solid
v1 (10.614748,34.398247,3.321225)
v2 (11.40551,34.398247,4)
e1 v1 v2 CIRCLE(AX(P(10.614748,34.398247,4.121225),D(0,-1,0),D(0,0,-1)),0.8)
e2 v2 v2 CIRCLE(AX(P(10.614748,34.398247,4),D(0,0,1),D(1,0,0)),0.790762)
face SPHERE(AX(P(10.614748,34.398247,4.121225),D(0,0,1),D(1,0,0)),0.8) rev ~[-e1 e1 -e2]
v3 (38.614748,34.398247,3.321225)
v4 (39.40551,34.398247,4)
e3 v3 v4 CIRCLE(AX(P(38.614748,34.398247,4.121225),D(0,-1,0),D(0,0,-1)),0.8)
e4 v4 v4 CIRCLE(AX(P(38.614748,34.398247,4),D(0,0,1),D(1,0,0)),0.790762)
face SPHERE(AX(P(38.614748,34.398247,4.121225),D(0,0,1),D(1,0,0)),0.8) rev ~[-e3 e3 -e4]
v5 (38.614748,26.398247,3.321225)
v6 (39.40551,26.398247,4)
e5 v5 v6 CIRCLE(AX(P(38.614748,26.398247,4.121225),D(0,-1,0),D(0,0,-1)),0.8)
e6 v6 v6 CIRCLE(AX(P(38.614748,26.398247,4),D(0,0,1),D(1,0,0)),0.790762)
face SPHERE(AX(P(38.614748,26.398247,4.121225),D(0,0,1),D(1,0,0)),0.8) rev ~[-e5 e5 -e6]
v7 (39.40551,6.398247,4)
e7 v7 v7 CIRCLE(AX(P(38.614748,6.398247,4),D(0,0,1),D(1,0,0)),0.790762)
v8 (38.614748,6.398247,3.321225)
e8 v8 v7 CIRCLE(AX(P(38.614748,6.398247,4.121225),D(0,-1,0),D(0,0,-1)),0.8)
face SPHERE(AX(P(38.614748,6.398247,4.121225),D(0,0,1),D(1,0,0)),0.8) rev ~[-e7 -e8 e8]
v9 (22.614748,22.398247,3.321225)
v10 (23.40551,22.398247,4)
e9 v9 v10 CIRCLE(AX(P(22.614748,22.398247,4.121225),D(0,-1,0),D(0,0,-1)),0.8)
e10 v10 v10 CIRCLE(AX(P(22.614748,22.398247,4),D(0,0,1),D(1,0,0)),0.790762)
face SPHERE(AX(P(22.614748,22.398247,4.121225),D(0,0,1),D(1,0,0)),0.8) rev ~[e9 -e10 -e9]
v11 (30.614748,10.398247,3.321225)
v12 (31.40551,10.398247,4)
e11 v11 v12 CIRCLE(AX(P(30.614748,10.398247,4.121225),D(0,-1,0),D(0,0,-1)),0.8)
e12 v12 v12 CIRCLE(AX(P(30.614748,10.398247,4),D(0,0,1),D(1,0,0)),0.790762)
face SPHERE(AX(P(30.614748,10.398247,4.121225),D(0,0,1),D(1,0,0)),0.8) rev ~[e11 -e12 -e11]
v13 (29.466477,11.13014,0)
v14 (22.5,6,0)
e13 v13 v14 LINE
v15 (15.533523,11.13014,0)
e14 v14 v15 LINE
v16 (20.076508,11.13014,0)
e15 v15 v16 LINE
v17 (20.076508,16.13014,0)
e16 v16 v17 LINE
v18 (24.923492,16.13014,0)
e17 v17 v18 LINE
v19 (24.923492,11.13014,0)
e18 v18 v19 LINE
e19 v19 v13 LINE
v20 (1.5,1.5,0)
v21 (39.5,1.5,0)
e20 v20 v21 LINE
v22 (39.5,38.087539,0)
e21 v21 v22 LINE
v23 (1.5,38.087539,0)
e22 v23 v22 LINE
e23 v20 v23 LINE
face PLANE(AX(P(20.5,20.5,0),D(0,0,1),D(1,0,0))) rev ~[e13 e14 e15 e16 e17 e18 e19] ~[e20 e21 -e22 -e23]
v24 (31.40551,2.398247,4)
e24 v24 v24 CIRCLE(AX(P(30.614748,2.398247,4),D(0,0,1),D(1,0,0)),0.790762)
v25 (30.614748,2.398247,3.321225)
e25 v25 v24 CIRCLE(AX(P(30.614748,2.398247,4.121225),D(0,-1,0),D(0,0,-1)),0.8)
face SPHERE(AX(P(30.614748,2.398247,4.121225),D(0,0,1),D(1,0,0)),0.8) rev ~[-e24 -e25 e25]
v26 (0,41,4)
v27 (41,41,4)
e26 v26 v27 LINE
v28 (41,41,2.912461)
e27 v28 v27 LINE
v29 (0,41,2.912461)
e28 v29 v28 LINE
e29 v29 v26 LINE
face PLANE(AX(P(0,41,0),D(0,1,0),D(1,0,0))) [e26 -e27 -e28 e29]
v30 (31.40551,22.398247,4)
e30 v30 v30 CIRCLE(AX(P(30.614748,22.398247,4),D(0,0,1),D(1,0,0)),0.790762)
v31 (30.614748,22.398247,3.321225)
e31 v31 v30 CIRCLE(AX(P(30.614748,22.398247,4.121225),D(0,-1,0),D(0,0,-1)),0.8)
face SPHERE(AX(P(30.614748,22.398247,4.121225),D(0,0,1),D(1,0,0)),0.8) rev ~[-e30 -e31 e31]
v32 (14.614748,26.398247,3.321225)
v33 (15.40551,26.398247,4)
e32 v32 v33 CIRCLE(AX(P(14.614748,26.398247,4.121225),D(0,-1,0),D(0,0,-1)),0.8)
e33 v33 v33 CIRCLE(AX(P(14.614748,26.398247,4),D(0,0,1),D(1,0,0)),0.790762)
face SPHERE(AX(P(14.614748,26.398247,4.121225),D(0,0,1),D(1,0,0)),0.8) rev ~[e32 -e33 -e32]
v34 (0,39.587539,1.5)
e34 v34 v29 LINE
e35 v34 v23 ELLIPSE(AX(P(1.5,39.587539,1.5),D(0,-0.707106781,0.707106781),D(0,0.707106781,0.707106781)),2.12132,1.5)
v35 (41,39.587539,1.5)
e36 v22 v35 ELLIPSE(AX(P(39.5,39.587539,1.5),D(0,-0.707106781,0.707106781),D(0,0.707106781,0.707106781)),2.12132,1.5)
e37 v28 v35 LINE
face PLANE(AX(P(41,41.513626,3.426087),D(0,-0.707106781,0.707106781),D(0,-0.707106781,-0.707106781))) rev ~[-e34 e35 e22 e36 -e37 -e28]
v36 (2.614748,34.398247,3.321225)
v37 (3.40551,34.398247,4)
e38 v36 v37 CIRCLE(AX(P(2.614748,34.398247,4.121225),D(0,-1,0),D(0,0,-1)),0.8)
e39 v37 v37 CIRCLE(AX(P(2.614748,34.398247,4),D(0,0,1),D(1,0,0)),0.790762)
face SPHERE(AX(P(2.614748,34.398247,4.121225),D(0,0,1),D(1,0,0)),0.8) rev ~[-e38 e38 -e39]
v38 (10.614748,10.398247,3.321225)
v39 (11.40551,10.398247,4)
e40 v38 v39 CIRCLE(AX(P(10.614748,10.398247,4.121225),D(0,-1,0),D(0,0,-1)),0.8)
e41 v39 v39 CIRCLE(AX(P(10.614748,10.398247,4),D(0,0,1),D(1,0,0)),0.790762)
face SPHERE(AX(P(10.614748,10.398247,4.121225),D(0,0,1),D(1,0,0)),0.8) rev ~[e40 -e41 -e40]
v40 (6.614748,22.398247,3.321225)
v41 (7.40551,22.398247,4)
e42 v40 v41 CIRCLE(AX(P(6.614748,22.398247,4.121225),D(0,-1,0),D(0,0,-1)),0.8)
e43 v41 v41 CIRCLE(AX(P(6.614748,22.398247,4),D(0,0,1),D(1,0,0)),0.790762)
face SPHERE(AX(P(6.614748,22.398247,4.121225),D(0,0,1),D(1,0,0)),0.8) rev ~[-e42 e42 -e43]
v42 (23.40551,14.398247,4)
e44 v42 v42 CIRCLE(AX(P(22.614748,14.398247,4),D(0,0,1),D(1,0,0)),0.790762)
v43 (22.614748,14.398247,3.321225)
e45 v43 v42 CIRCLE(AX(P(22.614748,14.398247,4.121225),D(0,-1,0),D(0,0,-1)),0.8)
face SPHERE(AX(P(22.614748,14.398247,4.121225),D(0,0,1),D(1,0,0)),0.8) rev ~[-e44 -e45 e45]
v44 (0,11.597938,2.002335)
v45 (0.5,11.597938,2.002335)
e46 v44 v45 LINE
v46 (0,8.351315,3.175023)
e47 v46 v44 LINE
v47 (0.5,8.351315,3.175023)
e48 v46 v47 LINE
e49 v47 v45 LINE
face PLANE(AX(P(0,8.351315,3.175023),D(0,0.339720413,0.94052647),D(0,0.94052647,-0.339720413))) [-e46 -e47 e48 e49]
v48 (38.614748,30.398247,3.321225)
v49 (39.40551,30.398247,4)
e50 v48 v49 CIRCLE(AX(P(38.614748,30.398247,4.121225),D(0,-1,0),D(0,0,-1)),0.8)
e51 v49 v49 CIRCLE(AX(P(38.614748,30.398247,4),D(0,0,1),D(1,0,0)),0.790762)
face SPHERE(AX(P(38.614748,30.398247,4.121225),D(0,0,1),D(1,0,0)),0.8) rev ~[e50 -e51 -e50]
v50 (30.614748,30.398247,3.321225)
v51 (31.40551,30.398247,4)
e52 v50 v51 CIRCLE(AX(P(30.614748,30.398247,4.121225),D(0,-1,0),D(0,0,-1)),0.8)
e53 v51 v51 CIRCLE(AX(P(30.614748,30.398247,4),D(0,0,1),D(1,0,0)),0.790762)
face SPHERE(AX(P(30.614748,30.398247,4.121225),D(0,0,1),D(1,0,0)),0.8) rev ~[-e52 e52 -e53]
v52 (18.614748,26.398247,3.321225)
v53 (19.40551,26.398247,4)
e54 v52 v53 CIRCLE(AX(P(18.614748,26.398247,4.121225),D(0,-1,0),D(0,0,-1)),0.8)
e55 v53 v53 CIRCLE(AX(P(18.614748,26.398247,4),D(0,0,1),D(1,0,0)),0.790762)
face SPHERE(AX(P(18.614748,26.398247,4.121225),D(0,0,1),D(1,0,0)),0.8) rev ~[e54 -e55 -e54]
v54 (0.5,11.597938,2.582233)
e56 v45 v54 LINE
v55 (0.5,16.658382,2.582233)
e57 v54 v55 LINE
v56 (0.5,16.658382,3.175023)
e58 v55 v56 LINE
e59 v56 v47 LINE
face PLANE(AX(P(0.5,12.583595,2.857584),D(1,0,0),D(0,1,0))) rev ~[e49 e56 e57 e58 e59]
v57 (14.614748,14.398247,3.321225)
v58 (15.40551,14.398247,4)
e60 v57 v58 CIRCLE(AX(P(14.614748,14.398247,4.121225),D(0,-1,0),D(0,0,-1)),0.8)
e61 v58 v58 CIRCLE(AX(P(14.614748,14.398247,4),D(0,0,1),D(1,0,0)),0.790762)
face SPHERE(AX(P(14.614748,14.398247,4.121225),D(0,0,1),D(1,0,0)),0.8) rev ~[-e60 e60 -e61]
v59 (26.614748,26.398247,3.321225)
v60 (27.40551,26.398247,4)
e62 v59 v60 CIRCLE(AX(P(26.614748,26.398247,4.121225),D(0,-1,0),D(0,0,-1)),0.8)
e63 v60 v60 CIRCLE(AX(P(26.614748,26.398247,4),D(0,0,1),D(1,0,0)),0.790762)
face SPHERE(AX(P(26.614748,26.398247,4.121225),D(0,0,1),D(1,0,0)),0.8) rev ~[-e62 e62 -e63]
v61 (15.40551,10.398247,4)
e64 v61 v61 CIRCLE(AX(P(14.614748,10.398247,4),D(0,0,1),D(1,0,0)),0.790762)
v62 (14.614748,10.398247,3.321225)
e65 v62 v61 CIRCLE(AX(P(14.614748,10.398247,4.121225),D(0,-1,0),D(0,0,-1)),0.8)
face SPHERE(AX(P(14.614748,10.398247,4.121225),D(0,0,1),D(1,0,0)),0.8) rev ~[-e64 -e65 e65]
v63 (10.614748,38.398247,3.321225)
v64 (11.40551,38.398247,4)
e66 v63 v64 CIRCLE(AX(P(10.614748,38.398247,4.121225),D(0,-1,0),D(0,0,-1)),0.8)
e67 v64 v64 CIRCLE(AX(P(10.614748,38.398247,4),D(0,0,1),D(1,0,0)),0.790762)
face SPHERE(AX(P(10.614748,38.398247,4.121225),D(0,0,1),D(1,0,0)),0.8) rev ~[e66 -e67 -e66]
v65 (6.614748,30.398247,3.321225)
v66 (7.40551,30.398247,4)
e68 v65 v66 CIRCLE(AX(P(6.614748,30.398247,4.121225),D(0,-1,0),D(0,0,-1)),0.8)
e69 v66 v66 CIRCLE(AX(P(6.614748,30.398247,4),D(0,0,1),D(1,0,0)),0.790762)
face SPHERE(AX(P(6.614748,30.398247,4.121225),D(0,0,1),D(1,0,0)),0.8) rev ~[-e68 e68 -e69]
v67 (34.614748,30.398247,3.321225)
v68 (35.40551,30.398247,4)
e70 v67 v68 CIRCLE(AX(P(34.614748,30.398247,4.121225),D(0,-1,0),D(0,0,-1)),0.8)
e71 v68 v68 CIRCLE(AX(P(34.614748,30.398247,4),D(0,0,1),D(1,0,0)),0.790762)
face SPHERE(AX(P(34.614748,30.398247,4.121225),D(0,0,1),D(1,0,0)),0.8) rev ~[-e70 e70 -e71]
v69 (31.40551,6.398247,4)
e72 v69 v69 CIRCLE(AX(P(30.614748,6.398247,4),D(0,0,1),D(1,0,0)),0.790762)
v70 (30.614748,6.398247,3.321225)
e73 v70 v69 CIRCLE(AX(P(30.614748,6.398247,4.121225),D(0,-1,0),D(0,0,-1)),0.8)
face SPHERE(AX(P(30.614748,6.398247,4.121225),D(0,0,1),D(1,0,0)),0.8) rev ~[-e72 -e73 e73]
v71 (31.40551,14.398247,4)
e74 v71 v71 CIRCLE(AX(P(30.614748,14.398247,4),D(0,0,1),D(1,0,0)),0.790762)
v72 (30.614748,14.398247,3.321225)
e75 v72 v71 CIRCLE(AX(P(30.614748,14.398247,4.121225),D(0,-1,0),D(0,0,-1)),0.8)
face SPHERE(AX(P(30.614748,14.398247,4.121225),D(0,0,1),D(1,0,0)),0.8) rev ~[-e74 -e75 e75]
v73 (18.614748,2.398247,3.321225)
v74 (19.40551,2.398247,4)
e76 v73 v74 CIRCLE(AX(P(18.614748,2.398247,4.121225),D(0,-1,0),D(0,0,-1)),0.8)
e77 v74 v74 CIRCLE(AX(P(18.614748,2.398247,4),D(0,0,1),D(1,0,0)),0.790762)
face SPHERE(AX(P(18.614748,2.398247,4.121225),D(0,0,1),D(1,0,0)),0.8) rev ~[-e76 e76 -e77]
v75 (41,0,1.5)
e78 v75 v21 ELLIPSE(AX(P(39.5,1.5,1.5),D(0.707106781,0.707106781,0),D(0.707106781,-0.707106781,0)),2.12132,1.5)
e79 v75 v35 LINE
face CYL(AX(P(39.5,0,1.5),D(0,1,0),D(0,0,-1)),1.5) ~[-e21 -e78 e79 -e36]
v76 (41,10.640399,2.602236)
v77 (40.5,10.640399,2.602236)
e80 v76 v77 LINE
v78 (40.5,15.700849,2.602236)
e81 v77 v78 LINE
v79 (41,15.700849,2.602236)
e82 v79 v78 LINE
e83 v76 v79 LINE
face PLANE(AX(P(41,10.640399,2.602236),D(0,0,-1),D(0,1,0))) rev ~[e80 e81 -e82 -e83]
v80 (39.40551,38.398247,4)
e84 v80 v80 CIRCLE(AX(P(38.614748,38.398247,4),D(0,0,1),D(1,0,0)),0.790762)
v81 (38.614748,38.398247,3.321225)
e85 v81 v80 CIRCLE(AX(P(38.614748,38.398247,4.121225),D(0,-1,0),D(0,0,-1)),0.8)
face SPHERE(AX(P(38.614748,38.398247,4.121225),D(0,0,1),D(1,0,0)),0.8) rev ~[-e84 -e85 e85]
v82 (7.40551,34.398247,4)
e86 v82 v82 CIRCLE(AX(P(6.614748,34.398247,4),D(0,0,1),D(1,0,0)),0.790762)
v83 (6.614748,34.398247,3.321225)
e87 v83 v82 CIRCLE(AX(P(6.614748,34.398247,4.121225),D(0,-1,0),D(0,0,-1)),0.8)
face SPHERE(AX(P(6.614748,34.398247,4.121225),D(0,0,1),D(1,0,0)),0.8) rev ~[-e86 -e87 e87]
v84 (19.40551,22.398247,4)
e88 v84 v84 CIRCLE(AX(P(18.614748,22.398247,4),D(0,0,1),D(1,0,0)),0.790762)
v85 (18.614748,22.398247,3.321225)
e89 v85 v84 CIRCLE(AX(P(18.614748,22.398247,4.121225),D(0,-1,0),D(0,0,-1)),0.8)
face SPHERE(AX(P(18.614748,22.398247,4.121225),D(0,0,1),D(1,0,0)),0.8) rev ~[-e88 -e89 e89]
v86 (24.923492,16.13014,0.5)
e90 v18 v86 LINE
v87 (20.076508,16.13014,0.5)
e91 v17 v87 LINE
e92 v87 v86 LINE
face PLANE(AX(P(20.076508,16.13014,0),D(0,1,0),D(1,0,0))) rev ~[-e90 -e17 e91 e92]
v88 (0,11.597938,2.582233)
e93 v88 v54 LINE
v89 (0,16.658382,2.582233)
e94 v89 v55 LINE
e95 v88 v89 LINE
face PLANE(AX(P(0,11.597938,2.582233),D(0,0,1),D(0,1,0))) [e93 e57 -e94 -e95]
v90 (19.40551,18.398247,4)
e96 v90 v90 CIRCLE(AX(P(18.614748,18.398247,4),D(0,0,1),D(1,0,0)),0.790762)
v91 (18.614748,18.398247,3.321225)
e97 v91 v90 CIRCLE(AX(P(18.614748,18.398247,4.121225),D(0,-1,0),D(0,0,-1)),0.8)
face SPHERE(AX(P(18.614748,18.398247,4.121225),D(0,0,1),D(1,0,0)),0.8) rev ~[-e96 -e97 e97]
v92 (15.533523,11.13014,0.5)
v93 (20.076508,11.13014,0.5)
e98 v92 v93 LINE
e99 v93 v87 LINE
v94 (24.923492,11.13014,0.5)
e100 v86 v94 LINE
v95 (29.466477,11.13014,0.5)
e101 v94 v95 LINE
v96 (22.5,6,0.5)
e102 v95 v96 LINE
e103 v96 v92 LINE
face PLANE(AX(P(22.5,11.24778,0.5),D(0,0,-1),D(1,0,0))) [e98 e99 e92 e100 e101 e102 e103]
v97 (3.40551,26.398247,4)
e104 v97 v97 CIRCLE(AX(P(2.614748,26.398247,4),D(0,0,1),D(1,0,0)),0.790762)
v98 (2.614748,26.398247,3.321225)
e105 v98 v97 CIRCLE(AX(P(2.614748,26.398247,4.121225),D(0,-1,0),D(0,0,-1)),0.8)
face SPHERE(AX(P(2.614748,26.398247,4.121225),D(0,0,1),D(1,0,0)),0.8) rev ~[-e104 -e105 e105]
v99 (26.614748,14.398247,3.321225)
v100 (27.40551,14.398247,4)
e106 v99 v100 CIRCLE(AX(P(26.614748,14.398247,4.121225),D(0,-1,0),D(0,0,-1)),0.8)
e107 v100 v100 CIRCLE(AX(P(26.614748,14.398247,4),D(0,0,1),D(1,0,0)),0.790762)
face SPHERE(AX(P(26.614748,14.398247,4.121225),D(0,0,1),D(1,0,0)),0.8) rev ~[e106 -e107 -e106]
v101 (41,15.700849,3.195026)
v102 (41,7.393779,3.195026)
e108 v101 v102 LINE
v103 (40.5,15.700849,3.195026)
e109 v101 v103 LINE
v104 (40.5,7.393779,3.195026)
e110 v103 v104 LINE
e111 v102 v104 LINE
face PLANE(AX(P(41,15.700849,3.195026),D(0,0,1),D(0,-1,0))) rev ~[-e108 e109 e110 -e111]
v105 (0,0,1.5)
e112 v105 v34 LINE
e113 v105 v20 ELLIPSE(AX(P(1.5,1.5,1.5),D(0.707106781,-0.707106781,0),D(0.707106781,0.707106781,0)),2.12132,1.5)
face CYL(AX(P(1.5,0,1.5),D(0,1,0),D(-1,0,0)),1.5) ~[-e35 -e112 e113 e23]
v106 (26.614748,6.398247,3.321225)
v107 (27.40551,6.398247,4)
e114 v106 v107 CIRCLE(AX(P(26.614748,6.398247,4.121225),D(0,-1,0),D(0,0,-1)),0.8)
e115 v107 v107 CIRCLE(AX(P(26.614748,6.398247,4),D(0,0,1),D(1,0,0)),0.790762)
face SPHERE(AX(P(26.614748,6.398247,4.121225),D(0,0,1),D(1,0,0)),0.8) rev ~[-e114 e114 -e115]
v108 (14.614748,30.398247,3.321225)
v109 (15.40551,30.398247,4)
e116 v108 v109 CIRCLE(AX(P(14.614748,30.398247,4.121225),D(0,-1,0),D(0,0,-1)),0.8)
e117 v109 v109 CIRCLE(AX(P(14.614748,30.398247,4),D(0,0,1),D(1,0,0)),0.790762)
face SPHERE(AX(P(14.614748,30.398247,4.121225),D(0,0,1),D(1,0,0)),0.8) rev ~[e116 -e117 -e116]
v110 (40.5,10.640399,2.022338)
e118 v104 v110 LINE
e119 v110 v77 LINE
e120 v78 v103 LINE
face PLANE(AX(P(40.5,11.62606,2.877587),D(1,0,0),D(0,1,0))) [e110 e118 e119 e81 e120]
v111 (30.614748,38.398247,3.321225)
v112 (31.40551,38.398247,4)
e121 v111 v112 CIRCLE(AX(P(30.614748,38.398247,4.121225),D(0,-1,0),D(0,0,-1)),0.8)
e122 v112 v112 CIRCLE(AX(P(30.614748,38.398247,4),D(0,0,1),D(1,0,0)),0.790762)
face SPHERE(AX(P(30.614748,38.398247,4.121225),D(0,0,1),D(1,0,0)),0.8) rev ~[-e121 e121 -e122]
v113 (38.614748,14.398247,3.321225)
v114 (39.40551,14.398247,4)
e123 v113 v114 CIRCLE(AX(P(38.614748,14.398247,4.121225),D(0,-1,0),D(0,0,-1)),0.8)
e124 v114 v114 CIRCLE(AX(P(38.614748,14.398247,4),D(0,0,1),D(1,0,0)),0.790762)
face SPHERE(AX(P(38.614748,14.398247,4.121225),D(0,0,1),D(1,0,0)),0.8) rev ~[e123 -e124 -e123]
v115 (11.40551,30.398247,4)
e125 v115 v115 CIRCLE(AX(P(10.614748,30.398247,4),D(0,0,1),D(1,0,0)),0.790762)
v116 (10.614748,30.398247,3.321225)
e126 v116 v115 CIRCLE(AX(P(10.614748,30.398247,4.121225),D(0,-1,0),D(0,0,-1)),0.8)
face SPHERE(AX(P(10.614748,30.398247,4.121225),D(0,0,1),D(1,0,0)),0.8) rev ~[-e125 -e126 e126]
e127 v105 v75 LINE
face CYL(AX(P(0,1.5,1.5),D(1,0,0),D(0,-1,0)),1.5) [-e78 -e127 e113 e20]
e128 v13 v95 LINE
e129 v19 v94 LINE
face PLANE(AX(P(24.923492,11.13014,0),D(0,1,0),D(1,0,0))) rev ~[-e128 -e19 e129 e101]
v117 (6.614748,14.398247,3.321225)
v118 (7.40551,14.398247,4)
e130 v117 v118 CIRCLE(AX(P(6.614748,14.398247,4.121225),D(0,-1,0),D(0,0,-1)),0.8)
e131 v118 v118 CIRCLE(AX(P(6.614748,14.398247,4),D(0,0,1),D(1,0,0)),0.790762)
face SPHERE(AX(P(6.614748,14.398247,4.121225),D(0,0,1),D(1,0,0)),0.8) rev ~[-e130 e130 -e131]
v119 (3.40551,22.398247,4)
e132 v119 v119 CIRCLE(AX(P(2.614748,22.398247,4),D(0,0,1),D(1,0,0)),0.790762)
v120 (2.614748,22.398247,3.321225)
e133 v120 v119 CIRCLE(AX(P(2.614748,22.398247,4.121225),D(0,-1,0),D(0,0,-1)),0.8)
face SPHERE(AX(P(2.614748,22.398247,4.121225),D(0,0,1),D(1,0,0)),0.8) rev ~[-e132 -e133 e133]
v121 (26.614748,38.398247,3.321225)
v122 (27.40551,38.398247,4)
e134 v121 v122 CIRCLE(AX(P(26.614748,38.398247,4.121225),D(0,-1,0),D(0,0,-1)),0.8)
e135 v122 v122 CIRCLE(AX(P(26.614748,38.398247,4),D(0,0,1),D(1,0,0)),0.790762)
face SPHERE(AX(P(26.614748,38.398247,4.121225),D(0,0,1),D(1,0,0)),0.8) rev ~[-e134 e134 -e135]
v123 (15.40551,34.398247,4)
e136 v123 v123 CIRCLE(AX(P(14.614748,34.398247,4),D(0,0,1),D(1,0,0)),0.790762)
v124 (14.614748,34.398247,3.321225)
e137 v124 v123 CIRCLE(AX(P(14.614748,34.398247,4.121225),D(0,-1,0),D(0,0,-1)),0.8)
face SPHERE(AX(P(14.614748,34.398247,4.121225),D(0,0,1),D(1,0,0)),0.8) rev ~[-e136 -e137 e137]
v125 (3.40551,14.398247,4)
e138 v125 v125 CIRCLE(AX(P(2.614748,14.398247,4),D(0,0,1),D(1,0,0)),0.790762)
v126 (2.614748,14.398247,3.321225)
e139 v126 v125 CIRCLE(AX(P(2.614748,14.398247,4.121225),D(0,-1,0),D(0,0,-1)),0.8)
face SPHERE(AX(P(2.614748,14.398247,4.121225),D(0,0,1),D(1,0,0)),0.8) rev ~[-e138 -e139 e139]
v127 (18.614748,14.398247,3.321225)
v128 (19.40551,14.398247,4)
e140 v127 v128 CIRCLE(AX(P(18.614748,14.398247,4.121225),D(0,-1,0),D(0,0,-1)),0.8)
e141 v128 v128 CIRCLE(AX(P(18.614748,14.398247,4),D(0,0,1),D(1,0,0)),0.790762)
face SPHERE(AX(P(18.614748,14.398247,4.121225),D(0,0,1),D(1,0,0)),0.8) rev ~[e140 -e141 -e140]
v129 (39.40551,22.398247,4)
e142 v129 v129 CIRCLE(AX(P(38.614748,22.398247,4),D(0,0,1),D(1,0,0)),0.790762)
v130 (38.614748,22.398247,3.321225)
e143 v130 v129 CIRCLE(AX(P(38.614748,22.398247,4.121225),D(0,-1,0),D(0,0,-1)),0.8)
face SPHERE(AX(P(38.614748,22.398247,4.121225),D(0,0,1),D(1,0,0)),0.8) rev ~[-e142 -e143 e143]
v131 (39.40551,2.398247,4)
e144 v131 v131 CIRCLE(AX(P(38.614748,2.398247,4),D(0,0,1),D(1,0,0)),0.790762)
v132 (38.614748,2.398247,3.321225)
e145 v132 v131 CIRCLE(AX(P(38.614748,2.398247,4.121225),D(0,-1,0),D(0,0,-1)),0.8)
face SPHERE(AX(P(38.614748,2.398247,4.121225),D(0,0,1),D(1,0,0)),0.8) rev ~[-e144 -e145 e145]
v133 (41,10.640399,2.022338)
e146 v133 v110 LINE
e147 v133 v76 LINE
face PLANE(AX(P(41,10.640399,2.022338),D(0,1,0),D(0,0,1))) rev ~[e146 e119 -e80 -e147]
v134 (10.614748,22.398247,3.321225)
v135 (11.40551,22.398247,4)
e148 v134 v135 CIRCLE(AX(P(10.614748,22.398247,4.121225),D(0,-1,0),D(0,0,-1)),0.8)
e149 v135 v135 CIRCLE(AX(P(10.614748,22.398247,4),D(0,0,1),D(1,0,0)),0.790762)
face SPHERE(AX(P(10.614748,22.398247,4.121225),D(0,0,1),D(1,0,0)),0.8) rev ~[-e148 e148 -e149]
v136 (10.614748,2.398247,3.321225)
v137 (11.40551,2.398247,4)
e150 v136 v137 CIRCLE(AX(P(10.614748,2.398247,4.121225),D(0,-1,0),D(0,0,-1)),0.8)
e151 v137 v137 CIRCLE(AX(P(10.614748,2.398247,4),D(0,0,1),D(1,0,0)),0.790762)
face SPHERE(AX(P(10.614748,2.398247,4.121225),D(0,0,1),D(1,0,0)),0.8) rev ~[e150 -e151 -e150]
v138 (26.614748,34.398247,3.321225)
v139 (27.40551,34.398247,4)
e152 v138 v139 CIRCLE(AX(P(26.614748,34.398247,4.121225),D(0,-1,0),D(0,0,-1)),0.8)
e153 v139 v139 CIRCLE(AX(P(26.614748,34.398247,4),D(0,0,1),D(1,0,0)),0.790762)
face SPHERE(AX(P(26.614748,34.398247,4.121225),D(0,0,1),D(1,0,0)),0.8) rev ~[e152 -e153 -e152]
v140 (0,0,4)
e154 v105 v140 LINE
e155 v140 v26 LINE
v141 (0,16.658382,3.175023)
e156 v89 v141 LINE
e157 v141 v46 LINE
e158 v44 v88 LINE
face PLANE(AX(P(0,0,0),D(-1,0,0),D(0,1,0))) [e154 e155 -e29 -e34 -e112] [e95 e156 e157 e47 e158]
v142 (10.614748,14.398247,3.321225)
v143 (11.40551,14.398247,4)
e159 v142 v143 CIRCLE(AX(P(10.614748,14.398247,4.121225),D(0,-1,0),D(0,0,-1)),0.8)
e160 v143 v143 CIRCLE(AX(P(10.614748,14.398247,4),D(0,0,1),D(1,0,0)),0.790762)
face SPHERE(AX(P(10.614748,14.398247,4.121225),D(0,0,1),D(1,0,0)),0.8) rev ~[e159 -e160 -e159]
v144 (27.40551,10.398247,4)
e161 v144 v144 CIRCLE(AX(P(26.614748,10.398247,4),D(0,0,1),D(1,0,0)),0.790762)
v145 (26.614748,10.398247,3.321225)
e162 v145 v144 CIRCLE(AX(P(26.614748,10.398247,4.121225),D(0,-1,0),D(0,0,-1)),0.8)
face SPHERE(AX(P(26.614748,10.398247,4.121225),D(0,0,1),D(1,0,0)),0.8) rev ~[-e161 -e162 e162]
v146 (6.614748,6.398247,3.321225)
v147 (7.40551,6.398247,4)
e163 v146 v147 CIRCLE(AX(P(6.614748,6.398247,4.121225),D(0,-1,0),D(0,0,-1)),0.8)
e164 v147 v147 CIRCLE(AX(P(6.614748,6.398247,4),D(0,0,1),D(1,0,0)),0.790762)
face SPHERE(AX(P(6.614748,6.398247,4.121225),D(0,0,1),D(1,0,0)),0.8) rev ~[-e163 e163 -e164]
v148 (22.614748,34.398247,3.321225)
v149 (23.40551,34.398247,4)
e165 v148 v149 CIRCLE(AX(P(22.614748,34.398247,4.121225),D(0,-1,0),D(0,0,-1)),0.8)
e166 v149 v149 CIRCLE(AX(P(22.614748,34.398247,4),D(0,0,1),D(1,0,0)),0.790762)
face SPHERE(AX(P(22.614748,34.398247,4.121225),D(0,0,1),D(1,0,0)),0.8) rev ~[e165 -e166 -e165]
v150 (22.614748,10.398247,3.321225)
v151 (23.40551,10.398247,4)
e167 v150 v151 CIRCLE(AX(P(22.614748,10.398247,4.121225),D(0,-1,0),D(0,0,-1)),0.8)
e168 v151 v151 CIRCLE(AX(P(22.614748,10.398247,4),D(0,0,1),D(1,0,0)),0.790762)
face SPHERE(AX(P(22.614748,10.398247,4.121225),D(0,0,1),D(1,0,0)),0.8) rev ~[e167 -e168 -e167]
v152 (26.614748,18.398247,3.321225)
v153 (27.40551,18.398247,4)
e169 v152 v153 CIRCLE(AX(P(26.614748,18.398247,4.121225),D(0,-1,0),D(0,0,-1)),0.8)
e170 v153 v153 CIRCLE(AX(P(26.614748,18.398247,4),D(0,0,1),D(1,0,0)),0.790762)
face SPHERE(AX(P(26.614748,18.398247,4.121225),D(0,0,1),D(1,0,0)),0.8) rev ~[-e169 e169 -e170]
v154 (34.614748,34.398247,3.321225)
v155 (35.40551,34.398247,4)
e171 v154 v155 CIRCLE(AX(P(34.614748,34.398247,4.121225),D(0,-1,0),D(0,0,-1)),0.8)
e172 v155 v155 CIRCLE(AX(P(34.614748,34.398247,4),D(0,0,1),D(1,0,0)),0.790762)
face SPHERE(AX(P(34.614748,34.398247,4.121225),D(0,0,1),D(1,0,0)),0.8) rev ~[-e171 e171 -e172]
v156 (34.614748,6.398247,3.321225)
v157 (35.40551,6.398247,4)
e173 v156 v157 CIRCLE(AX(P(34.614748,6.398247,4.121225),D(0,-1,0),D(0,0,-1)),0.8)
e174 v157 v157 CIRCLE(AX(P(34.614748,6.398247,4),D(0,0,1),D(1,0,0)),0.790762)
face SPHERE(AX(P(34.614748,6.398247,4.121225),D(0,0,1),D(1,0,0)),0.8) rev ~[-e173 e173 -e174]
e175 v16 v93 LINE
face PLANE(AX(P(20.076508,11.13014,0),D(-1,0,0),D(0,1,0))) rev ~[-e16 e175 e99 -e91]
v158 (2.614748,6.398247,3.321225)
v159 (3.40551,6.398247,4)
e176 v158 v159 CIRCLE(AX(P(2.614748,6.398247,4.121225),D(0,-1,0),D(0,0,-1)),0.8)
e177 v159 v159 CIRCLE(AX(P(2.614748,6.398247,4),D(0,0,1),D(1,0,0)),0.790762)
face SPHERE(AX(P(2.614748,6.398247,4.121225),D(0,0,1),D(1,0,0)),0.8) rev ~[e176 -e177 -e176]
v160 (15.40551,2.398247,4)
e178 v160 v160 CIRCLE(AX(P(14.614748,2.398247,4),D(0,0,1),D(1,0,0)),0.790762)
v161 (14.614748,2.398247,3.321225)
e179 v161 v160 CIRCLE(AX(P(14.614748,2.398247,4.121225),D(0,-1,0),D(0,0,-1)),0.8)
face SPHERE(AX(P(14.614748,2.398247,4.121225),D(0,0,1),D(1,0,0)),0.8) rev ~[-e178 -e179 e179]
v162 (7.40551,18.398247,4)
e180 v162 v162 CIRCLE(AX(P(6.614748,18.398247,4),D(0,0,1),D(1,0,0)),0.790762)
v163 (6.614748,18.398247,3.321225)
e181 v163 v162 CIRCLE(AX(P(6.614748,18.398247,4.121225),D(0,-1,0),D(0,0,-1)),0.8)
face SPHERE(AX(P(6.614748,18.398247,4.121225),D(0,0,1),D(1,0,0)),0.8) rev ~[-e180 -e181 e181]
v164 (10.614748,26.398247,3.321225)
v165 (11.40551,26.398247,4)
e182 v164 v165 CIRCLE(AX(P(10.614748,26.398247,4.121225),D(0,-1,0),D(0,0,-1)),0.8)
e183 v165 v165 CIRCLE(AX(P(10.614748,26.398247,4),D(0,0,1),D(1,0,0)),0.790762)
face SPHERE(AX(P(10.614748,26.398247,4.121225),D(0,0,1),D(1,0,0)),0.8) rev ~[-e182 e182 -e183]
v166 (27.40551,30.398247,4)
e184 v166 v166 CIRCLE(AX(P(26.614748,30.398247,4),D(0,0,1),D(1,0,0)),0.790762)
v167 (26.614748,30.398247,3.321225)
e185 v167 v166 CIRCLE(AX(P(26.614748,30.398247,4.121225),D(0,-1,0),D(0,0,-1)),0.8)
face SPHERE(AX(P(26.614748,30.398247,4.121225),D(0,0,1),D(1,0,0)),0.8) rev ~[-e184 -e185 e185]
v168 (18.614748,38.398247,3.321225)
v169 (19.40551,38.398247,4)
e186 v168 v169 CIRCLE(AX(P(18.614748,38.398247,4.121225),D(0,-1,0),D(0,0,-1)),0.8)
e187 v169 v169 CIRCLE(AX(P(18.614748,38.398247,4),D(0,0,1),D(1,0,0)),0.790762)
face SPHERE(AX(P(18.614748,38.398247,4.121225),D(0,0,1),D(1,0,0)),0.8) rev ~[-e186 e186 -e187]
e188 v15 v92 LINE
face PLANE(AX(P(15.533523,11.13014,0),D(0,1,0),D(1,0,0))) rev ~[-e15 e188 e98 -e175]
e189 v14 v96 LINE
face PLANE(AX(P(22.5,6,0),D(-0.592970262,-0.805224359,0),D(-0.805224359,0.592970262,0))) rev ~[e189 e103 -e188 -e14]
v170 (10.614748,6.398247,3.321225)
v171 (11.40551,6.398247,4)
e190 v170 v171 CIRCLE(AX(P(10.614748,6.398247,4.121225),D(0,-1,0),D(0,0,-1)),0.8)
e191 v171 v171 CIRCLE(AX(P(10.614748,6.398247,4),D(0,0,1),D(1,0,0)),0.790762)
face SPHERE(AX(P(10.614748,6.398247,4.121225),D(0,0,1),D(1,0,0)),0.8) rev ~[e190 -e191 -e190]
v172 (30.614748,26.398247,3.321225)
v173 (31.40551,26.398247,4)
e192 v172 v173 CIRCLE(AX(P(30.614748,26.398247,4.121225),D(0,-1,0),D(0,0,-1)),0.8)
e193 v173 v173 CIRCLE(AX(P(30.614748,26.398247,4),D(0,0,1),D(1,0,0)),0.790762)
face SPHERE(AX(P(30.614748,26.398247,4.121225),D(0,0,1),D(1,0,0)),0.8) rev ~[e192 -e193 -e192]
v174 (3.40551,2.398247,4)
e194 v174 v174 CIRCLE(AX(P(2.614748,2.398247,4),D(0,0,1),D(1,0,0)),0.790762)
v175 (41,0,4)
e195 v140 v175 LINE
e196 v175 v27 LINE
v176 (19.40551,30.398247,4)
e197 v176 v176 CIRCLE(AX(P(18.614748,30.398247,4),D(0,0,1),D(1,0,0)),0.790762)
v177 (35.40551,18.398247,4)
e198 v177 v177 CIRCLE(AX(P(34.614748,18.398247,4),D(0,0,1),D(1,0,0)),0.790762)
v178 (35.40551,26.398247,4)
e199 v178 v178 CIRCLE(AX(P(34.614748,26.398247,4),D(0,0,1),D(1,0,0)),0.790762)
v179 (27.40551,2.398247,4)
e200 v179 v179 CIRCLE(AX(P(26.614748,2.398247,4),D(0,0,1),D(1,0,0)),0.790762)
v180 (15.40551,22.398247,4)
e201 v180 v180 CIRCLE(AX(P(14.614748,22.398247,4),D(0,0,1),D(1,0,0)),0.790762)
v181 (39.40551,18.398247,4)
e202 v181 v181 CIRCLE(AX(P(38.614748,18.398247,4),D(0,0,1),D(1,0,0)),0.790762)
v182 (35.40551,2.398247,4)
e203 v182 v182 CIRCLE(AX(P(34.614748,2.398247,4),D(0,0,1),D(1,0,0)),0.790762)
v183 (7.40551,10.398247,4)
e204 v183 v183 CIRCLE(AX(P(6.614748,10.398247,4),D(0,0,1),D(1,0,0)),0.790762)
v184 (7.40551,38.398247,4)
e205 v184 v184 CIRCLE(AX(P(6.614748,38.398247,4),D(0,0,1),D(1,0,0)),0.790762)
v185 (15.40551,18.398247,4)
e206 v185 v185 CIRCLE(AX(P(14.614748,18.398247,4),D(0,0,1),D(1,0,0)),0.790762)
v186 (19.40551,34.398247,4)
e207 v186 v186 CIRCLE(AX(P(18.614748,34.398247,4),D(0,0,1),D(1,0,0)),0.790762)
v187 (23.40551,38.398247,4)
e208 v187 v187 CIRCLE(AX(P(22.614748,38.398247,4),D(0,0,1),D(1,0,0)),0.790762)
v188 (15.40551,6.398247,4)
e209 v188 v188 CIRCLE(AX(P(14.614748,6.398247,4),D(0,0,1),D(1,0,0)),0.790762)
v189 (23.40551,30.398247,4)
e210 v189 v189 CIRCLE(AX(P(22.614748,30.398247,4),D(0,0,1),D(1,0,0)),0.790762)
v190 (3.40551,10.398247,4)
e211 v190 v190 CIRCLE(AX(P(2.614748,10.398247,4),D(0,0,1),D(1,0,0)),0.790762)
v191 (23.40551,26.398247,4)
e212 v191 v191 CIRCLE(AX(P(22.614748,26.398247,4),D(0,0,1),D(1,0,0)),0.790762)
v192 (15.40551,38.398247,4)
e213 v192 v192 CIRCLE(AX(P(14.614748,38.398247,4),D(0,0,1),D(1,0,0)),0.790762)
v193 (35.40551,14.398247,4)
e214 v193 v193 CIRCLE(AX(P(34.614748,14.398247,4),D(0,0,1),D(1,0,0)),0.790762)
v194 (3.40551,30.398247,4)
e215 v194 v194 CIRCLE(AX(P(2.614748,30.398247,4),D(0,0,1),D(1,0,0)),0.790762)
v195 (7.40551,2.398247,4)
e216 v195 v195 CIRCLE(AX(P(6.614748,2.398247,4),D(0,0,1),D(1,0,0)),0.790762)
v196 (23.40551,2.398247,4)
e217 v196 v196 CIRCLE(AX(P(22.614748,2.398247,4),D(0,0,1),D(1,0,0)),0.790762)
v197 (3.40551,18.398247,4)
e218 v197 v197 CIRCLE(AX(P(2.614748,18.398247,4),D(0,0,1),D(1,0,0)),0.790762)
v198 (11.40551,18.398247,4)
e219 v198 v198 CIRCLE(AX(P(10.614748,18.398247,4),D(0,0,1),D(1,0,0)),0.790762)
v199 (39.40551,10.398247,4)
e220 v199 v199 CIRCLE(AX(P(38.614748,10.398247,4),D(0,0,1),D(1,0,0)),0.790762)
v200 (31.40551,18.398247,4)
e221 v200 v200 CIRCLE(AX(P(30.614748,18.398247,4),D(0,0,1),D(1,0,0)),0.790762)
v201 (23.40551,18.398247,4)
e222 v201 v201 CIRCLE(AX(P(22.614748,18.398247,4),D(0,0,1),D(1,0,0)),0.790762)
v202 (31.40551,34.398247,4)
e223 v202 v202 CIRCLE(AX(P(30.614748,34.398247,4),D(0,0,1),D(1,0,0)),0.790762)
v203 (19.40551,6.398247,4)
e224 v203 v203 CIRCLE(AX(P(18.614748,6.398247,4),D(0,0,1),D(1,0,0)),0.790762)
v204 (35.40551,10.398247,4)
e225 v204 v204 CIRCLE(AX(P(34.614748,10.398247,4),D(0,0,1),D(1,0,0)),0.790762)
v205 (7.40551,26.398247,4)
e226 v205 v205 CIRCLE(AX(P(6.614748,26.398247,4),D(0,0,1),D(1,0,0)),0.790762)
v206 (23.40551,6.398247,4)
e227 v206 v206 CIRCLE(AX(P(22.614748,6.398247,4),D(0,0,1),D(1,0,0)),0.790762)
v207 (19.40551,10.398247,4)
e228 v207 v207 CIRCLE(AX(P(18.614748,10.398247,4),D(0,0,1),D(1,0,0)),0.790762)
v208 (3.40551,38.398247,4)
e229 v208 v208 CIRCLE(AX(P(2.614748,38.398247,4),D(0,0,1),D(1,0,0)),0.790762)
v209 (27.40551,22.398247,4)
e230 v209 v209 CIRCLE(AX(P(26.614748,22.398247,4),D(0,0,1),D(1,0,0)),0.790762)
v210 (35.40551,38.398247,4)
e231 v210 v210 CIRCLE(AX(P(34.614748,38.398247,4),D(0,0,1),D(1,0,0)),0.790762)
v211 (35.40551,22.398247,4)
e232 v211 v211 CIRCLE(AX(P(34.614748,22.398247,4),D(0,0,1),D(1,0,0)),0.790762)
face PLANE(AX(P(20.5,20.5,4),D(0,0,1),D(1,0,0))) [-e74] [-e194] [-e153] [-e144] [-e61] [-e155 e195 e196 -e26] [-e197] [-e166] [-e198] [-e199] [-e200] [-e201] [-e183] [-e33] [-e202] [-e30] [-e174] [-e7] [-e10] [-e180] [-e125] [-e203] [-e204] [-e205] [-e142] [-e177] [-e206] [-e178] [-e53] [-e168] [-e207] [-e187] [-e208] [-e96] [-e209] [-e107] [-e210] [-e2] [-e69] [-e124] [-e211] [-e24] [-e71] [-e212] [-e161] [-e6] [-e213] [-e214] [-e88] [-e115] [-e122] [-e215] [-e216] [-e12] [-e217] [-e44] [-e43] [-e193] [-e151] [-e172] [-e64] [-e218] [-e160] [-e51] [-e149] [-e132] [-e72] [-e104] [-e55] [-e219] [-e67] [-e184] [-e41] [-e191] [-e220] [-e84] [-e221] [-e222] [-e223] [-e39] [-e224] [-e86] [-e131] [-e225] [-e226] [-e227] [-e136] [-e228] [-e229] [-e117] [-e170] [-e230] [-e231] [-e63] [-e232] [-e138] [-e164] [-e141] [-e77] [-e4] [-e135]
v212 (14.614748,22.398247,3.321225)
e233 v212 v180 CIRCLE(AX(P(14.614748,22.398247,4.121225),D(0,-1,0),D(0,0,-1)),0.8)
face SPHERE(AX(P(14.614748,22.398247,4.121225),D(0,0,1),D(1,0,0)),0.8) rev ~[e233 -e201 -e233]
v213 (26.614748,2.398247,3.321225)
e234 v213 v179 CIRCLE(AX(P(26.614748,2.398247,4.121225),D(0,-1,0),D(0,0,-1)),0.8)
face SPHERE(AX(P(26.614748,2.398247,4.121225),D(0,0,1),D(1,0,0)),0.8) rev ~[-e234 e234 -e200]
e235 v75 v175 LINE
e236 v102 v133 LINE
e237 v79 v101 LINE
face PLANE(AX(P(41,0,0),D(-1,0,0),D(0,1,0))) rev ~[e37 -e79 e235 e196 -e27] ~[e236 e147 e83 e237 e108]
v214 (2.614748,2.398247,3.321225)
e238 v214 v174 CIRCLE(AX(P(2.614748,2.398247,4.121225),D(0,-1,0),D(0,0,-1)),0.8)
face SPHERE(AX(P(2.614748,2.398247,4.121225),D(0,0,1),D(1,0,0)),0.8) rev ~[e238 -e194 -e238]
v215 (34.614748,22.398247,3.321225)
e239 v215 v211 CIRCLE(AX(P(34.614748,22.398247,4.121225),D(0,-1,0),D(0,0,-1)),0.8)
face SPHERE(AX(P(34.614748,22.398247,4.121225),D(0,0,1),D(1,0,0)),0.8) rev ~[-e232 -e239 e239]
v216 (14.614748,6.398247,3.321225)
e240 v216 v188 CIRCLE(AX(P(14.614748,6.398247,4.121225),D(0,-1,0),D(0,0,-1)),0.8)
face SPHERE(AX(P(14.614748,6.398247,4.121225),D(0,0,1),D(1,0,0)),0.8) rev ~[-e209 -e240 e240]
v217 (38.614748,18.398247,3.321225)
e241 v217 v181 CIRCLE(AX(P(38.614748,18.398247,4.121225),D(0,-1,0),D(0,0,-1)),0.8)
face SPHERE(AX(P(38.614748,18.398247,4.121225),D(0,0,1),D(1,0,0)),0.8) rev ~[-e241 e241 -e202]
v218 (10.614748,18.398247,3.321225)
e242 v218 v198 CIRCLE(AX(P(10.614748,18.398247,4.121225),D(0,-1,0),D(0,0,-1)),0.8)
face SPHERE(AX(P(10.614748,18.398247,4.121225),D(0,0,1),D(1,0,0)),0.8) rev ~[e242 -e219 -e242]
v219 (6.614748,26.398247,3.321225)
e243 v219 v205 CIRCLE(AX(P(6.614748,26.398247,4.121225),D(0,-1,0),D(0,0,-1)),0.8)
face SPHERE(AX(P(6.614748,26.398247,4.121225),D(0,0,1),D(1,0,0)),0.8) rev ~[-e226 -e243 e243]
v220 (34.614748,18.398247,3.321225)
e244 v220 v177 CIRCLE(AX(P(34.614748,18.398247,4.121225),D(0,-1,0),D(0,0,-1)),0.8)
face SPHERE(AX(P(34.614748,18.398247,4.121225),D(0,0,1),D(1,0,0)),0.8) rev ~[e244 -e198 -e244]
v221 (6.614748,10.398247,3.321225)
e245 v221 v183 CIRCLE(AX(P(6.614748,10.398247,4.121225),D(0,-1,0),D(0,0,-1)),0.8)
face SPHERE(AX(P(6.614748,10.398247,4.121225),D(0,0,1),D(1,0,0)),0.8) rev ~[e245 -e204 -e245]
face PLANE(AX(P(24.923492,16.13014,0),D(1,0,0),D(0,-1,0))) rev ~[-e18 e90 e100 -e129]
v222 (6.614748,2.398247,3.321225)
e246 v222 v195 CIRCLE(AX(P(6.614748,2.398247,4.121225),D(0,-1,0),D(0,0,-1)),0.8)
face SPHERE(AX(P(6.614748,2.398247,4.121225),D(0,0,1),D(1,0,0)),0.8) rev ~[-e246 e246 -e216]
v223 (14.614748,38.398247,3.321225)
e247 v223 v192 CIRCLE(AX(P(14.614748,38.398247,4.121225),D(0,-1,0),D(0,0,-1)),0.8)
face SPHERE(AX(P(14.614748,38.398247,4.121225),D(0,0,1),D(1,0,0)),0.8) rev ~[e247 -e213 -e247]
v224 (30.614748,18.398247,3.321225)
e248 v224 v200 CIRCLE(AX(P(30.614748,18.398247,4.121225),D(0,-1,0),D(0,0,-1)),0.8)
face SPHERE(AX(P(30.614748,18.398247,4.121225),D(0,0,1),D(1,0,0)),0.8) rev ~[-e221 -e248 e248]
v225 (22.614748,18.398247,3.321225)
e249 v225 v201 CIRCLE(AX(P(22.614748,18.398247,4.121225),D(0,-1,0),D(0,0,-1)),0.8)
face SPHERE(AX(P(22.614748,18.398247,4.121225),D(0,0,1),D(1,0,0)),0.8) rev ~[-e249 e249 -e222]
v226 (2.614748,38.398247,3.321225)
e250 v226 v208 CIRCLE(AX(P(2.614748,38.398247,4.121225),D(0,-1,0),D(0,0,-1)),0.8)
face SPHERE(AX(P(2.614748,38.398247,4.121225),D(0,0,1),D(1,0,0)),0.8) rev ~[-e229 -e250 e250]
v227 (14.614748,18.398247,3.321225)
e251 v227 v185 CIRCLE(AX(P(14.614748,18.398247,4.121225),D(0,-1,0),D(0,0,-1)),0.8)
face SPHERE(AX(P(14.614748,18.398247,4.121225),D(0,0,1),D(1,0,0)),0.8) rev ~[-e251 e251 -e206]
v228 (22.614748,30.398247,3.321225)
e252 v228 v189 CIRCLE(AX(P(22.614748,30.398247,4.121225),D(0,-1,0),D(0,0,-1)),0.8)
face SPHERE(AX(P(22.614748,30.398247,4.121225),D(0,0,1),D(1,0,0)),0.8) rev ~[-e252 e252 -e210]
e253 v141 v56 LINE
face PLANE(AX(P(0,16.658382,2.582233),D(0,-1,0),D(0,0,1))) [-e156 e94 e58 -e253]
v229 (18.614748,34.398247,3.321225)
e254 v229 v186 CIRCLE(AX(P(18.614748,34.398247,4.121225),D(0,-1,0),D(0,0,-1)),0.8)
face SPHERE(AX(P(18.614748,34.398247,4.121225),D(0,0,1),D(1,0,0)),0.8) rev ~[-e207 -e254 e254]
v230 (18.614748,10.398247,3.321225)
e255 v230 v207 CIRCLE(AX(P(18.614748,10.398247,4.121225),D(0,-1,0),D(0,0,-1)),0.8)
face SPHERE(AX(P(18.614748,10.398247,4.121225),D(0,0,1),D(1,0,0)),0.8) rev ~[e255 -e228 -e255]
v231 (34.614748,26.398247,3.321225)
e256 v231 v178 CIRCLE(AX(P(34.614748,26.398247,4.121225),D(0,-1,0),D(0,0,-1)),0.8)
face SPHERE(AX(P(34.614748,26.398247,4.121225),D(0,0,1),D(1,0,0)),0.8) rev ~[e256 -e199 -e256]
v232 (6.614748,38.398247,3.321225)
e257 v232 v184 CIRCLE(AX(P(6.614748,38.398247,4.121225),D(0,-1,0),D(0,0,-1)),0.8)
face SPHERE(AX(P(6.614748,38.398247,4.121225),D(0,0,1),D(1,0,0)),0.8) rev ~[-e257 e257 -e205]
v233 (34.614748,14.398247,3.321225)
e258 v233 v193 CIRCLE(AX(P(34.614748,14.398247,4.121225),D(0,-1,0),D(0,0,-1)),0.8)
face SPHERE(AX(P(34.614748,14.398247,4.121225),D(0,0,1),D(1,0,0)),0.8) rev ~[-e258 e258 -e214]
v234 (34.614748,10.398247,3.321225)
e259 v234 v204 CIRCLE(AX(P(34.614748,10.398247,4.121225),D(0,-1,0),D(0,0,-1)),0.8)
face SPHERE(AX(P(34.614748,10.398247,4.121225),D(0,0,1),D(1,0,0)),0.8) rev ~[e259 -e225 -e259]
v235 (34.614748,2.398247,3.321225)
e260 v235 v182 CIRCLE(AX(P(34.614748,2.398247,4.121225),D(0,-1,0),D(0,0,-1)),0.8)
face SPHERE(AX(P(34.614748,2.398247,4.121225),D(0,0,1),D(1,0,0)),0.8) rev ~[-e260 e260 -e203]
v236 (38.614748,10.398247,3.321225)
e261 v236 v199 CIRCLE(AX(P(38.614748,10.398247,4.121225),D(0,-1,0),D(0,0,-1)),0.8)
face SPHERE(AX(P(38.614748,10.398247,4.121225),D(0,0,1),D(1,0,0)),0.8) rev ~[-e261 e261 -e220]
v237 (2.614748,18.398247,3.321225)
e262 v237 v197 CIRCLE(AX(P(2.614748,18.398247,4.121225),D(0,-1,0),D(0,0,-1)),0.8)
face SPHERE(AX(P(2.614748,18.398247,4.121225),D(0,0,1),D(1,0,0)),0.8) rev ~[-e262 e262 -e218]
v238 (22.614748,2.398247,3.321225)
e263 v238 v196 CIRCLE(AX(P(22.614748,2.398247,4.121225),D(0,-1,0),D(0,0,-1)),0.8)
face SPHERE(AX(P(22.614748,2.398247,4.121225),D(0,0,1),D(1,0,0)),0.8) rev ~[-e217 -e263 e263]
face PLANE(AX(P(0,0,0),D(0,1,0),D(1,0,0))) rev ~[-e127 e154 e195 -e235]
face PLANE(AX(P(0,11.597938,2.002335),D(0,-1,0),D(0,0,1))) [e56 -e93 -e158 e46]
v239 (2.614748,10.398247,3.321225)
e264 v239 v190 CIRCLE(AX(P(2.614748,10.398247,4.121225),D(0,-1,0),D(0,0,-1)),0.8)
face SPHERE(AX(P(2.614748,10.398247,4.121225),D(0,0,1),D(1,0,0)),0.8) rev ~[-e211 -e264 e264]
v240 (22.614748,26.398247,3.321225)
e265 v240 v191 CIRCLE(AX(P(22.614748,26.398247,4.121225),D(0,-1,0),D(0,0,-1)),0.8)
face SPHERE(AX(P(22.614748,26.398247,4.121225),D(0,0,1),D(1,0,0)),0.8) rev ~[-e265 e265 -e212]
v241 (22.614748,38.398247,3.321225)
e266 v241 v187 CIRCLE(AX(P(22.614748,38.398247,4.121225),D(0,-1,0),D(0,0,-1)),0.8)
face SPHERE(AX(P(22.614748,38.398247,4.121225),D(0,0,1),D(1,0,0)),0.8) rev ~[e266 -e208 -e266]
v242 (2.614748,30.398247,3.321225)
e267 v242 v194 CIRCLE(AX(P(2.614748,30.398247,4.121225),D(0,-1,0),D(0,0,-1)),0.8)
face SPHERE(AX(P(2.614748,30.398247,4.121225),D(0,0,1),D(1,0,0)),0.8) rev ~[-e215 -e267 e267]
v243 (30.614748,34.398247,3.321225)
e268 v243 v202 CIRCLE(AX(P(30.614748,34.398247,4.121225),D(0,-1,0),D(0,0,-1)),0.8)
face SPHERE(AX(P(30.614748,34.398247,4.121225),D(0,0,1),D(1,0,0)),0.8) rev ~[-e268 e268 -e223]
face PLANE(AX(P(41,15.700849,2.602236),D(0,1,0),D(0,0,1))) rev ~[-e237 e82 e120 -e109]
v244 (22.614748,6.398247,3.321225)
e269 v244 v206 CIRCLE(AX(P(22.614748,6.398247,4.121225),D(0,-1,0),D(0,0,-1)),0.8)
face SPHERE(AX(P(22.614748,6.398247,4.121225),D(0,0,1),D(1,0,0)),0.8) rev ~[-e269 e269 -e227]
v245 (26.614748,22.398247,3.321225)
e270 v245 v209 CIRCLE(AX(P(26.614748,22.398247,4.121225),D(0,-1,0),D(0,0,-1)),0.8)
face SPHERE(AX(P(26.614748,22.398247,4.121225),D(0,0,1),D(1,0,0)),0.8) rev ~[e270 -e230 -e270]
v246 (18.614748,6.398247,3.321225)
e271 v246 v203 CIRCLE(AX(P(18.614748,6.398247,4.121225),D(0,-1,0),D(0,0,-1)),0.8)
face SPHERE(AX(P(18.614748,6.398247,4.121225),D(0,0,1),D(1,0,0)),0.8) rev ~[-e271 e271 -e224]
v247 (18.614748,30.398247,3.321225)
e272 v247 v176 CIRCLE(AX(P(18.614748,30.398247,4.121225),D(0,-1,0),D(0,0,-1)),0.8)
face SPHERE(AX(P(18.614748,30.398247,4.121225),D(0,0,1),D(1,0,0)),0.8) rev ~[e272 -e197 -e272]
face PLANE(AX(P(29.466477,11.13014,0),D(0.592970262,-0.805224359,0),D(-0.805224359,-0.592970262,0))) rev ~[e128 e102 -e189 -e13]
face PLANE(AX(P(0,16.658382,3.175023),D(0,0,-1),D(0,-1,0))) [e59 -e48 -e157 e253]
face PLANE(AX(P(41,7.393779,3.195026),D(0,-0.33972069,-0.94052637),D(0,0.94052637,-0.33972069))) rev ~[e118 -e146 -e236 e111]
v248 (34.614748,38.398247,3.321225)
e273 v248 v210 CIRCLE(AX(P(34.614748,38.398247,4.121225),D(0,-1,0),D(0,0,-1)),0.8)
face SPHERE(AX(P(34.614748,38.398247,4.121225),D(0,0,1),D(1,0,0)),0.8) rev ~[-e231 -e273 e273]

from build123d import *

# Parameters (mm, degrees)
ARRAY_X_COUNT   = 10
ARRAY_X_PITCH   = 4
ARRAY_Y_COUNT   = 10
ARRAY_Y_PITCH   = 4
SKETCH001_W     = 41
SKETCH001_H     = 41
PAD_DEPTH       = 4
FILLET_R        = 1.5
POCKET_DEPTH    = 0.5
POCKET001_DEPTH = 0.5
POCKET002_DEPTH = 0.5
POCKET003_DEPTH = 45


with BuildPart() as array:
    # Sphere → Sphere (revolve)
    with BuildSketch(Plane(origin=(4.114748, 38.898247, 4.121225), x_dir=(1, 0, 0), z_dir=(0, -1, 0))):
        with BuildLine():
            ThreePointArc((0, -0.8), (0.8, 0), (0, 0.8))
            Line((0, 0.8), (0, -0.8))
        make_face()
    revolve(axis=Axis((4.114748, 38.898247, 4.121225), (0, 0, 1)))

    # Array X: Array ×10


with BuildPart() as array_1:
    add(array.part)
    with Locations(*[(i * ARRAY_X_PITCH, 0, 0) for i in range(1, ARRAY_X_COUNT)]):
        add(array.part)

    # Array Y: Array ×10


with BuildPart() as array_2:
    add(array_1.part)
    with Locations(*[(0, i * ARRAY_Y_PITCH, 0) for i in range(1, ARRAY_Y_COUNT)]):
        add(array_1.part)


with BuildPart() as array_3:
    # Array placement: moved
    add(array_2.part.moved(Location((-1.5, -36.5, 0))))


with BuildPart() as pocket003:
    # Sketch001 → Pad (new body)
    with BuildSketch(Plane.XY):
        with Locations((20.5, 20.5)):
            Rectangle(SKETCH001_W, SKETCH001_H)
    extrude(amount=PAD_DEPTH)

    # Cut: cut Array
    add(array_3.part, mode=Mode.SUBTRACT)

    # Fillet
    fillet_edges = [pocket003.edges().sort_by_distance(p)[0] for p in [
        (20.5, 0, 0),
        (0, 20.5, 0),
        (41, 20.5, 0),
        (20.5, 41, 0),
    ]]
    fillet(fillet_edges, radius=FILLET_R)

    # Sketch → Pocket (cut)
    with BuildSketch(Plane(origin=(0, 0, 0), x_dir=(1, 0, 0), z_dir=(0, 0, -1))):
        Polygon((22.5, -6), (15.533523, -11.13014), (20.076508, -11.13014), (20.076508, -16.13014), (24.923492, -16.13014), (24.923492, -11.13014), (29.466477, -11.13014), align=None)
    extrude(amount=-POCKET_DEPTH, mode=Mode.SUBTRACT)

    # Sketch002 → Pocket001 (cut)
    with BuildSketch(Plane(origin=(0, 0, 0), x_dir=(0, -1, 0), z_dir=(-1, 0, 0))):
        Polygon((-16.658382, 3.175023), (-8.351315, 3.175023), (-11.597938, 2.002335), (-11.597938, 2.582233), (-16.658382, 2.582233), align=None)
    extrude(amount=-POCKET001_DEPTH, mode=Mode.SUBTRACT)

    # Sketch003 → Pocket002 (cut)
    with BuildSketch(Plane.YZ.offset(41)):
        Polygon((15.700849, 2.602236), (15.700849, 3.195026), (7.393779, 3.195026), (10.640399, 2.022338), (10.640399, 2.602236), align=None)
    extrude(amount=-POCKET002_DEPTH, mode=Mode.SUBTRACT)

    # Sketch004 → Pocket003 (cut)
    with BuildSketch(Plane.YZ.offset(41)):
        Polygon((41.513626, 3.426087), (37.621222, -0.466317), (41.513626, -0.466317), align=None)
    extrude(amount=-POCKET003_DEPTH, mode=Mode.SUBTRACT)


solid = pocket003.part
